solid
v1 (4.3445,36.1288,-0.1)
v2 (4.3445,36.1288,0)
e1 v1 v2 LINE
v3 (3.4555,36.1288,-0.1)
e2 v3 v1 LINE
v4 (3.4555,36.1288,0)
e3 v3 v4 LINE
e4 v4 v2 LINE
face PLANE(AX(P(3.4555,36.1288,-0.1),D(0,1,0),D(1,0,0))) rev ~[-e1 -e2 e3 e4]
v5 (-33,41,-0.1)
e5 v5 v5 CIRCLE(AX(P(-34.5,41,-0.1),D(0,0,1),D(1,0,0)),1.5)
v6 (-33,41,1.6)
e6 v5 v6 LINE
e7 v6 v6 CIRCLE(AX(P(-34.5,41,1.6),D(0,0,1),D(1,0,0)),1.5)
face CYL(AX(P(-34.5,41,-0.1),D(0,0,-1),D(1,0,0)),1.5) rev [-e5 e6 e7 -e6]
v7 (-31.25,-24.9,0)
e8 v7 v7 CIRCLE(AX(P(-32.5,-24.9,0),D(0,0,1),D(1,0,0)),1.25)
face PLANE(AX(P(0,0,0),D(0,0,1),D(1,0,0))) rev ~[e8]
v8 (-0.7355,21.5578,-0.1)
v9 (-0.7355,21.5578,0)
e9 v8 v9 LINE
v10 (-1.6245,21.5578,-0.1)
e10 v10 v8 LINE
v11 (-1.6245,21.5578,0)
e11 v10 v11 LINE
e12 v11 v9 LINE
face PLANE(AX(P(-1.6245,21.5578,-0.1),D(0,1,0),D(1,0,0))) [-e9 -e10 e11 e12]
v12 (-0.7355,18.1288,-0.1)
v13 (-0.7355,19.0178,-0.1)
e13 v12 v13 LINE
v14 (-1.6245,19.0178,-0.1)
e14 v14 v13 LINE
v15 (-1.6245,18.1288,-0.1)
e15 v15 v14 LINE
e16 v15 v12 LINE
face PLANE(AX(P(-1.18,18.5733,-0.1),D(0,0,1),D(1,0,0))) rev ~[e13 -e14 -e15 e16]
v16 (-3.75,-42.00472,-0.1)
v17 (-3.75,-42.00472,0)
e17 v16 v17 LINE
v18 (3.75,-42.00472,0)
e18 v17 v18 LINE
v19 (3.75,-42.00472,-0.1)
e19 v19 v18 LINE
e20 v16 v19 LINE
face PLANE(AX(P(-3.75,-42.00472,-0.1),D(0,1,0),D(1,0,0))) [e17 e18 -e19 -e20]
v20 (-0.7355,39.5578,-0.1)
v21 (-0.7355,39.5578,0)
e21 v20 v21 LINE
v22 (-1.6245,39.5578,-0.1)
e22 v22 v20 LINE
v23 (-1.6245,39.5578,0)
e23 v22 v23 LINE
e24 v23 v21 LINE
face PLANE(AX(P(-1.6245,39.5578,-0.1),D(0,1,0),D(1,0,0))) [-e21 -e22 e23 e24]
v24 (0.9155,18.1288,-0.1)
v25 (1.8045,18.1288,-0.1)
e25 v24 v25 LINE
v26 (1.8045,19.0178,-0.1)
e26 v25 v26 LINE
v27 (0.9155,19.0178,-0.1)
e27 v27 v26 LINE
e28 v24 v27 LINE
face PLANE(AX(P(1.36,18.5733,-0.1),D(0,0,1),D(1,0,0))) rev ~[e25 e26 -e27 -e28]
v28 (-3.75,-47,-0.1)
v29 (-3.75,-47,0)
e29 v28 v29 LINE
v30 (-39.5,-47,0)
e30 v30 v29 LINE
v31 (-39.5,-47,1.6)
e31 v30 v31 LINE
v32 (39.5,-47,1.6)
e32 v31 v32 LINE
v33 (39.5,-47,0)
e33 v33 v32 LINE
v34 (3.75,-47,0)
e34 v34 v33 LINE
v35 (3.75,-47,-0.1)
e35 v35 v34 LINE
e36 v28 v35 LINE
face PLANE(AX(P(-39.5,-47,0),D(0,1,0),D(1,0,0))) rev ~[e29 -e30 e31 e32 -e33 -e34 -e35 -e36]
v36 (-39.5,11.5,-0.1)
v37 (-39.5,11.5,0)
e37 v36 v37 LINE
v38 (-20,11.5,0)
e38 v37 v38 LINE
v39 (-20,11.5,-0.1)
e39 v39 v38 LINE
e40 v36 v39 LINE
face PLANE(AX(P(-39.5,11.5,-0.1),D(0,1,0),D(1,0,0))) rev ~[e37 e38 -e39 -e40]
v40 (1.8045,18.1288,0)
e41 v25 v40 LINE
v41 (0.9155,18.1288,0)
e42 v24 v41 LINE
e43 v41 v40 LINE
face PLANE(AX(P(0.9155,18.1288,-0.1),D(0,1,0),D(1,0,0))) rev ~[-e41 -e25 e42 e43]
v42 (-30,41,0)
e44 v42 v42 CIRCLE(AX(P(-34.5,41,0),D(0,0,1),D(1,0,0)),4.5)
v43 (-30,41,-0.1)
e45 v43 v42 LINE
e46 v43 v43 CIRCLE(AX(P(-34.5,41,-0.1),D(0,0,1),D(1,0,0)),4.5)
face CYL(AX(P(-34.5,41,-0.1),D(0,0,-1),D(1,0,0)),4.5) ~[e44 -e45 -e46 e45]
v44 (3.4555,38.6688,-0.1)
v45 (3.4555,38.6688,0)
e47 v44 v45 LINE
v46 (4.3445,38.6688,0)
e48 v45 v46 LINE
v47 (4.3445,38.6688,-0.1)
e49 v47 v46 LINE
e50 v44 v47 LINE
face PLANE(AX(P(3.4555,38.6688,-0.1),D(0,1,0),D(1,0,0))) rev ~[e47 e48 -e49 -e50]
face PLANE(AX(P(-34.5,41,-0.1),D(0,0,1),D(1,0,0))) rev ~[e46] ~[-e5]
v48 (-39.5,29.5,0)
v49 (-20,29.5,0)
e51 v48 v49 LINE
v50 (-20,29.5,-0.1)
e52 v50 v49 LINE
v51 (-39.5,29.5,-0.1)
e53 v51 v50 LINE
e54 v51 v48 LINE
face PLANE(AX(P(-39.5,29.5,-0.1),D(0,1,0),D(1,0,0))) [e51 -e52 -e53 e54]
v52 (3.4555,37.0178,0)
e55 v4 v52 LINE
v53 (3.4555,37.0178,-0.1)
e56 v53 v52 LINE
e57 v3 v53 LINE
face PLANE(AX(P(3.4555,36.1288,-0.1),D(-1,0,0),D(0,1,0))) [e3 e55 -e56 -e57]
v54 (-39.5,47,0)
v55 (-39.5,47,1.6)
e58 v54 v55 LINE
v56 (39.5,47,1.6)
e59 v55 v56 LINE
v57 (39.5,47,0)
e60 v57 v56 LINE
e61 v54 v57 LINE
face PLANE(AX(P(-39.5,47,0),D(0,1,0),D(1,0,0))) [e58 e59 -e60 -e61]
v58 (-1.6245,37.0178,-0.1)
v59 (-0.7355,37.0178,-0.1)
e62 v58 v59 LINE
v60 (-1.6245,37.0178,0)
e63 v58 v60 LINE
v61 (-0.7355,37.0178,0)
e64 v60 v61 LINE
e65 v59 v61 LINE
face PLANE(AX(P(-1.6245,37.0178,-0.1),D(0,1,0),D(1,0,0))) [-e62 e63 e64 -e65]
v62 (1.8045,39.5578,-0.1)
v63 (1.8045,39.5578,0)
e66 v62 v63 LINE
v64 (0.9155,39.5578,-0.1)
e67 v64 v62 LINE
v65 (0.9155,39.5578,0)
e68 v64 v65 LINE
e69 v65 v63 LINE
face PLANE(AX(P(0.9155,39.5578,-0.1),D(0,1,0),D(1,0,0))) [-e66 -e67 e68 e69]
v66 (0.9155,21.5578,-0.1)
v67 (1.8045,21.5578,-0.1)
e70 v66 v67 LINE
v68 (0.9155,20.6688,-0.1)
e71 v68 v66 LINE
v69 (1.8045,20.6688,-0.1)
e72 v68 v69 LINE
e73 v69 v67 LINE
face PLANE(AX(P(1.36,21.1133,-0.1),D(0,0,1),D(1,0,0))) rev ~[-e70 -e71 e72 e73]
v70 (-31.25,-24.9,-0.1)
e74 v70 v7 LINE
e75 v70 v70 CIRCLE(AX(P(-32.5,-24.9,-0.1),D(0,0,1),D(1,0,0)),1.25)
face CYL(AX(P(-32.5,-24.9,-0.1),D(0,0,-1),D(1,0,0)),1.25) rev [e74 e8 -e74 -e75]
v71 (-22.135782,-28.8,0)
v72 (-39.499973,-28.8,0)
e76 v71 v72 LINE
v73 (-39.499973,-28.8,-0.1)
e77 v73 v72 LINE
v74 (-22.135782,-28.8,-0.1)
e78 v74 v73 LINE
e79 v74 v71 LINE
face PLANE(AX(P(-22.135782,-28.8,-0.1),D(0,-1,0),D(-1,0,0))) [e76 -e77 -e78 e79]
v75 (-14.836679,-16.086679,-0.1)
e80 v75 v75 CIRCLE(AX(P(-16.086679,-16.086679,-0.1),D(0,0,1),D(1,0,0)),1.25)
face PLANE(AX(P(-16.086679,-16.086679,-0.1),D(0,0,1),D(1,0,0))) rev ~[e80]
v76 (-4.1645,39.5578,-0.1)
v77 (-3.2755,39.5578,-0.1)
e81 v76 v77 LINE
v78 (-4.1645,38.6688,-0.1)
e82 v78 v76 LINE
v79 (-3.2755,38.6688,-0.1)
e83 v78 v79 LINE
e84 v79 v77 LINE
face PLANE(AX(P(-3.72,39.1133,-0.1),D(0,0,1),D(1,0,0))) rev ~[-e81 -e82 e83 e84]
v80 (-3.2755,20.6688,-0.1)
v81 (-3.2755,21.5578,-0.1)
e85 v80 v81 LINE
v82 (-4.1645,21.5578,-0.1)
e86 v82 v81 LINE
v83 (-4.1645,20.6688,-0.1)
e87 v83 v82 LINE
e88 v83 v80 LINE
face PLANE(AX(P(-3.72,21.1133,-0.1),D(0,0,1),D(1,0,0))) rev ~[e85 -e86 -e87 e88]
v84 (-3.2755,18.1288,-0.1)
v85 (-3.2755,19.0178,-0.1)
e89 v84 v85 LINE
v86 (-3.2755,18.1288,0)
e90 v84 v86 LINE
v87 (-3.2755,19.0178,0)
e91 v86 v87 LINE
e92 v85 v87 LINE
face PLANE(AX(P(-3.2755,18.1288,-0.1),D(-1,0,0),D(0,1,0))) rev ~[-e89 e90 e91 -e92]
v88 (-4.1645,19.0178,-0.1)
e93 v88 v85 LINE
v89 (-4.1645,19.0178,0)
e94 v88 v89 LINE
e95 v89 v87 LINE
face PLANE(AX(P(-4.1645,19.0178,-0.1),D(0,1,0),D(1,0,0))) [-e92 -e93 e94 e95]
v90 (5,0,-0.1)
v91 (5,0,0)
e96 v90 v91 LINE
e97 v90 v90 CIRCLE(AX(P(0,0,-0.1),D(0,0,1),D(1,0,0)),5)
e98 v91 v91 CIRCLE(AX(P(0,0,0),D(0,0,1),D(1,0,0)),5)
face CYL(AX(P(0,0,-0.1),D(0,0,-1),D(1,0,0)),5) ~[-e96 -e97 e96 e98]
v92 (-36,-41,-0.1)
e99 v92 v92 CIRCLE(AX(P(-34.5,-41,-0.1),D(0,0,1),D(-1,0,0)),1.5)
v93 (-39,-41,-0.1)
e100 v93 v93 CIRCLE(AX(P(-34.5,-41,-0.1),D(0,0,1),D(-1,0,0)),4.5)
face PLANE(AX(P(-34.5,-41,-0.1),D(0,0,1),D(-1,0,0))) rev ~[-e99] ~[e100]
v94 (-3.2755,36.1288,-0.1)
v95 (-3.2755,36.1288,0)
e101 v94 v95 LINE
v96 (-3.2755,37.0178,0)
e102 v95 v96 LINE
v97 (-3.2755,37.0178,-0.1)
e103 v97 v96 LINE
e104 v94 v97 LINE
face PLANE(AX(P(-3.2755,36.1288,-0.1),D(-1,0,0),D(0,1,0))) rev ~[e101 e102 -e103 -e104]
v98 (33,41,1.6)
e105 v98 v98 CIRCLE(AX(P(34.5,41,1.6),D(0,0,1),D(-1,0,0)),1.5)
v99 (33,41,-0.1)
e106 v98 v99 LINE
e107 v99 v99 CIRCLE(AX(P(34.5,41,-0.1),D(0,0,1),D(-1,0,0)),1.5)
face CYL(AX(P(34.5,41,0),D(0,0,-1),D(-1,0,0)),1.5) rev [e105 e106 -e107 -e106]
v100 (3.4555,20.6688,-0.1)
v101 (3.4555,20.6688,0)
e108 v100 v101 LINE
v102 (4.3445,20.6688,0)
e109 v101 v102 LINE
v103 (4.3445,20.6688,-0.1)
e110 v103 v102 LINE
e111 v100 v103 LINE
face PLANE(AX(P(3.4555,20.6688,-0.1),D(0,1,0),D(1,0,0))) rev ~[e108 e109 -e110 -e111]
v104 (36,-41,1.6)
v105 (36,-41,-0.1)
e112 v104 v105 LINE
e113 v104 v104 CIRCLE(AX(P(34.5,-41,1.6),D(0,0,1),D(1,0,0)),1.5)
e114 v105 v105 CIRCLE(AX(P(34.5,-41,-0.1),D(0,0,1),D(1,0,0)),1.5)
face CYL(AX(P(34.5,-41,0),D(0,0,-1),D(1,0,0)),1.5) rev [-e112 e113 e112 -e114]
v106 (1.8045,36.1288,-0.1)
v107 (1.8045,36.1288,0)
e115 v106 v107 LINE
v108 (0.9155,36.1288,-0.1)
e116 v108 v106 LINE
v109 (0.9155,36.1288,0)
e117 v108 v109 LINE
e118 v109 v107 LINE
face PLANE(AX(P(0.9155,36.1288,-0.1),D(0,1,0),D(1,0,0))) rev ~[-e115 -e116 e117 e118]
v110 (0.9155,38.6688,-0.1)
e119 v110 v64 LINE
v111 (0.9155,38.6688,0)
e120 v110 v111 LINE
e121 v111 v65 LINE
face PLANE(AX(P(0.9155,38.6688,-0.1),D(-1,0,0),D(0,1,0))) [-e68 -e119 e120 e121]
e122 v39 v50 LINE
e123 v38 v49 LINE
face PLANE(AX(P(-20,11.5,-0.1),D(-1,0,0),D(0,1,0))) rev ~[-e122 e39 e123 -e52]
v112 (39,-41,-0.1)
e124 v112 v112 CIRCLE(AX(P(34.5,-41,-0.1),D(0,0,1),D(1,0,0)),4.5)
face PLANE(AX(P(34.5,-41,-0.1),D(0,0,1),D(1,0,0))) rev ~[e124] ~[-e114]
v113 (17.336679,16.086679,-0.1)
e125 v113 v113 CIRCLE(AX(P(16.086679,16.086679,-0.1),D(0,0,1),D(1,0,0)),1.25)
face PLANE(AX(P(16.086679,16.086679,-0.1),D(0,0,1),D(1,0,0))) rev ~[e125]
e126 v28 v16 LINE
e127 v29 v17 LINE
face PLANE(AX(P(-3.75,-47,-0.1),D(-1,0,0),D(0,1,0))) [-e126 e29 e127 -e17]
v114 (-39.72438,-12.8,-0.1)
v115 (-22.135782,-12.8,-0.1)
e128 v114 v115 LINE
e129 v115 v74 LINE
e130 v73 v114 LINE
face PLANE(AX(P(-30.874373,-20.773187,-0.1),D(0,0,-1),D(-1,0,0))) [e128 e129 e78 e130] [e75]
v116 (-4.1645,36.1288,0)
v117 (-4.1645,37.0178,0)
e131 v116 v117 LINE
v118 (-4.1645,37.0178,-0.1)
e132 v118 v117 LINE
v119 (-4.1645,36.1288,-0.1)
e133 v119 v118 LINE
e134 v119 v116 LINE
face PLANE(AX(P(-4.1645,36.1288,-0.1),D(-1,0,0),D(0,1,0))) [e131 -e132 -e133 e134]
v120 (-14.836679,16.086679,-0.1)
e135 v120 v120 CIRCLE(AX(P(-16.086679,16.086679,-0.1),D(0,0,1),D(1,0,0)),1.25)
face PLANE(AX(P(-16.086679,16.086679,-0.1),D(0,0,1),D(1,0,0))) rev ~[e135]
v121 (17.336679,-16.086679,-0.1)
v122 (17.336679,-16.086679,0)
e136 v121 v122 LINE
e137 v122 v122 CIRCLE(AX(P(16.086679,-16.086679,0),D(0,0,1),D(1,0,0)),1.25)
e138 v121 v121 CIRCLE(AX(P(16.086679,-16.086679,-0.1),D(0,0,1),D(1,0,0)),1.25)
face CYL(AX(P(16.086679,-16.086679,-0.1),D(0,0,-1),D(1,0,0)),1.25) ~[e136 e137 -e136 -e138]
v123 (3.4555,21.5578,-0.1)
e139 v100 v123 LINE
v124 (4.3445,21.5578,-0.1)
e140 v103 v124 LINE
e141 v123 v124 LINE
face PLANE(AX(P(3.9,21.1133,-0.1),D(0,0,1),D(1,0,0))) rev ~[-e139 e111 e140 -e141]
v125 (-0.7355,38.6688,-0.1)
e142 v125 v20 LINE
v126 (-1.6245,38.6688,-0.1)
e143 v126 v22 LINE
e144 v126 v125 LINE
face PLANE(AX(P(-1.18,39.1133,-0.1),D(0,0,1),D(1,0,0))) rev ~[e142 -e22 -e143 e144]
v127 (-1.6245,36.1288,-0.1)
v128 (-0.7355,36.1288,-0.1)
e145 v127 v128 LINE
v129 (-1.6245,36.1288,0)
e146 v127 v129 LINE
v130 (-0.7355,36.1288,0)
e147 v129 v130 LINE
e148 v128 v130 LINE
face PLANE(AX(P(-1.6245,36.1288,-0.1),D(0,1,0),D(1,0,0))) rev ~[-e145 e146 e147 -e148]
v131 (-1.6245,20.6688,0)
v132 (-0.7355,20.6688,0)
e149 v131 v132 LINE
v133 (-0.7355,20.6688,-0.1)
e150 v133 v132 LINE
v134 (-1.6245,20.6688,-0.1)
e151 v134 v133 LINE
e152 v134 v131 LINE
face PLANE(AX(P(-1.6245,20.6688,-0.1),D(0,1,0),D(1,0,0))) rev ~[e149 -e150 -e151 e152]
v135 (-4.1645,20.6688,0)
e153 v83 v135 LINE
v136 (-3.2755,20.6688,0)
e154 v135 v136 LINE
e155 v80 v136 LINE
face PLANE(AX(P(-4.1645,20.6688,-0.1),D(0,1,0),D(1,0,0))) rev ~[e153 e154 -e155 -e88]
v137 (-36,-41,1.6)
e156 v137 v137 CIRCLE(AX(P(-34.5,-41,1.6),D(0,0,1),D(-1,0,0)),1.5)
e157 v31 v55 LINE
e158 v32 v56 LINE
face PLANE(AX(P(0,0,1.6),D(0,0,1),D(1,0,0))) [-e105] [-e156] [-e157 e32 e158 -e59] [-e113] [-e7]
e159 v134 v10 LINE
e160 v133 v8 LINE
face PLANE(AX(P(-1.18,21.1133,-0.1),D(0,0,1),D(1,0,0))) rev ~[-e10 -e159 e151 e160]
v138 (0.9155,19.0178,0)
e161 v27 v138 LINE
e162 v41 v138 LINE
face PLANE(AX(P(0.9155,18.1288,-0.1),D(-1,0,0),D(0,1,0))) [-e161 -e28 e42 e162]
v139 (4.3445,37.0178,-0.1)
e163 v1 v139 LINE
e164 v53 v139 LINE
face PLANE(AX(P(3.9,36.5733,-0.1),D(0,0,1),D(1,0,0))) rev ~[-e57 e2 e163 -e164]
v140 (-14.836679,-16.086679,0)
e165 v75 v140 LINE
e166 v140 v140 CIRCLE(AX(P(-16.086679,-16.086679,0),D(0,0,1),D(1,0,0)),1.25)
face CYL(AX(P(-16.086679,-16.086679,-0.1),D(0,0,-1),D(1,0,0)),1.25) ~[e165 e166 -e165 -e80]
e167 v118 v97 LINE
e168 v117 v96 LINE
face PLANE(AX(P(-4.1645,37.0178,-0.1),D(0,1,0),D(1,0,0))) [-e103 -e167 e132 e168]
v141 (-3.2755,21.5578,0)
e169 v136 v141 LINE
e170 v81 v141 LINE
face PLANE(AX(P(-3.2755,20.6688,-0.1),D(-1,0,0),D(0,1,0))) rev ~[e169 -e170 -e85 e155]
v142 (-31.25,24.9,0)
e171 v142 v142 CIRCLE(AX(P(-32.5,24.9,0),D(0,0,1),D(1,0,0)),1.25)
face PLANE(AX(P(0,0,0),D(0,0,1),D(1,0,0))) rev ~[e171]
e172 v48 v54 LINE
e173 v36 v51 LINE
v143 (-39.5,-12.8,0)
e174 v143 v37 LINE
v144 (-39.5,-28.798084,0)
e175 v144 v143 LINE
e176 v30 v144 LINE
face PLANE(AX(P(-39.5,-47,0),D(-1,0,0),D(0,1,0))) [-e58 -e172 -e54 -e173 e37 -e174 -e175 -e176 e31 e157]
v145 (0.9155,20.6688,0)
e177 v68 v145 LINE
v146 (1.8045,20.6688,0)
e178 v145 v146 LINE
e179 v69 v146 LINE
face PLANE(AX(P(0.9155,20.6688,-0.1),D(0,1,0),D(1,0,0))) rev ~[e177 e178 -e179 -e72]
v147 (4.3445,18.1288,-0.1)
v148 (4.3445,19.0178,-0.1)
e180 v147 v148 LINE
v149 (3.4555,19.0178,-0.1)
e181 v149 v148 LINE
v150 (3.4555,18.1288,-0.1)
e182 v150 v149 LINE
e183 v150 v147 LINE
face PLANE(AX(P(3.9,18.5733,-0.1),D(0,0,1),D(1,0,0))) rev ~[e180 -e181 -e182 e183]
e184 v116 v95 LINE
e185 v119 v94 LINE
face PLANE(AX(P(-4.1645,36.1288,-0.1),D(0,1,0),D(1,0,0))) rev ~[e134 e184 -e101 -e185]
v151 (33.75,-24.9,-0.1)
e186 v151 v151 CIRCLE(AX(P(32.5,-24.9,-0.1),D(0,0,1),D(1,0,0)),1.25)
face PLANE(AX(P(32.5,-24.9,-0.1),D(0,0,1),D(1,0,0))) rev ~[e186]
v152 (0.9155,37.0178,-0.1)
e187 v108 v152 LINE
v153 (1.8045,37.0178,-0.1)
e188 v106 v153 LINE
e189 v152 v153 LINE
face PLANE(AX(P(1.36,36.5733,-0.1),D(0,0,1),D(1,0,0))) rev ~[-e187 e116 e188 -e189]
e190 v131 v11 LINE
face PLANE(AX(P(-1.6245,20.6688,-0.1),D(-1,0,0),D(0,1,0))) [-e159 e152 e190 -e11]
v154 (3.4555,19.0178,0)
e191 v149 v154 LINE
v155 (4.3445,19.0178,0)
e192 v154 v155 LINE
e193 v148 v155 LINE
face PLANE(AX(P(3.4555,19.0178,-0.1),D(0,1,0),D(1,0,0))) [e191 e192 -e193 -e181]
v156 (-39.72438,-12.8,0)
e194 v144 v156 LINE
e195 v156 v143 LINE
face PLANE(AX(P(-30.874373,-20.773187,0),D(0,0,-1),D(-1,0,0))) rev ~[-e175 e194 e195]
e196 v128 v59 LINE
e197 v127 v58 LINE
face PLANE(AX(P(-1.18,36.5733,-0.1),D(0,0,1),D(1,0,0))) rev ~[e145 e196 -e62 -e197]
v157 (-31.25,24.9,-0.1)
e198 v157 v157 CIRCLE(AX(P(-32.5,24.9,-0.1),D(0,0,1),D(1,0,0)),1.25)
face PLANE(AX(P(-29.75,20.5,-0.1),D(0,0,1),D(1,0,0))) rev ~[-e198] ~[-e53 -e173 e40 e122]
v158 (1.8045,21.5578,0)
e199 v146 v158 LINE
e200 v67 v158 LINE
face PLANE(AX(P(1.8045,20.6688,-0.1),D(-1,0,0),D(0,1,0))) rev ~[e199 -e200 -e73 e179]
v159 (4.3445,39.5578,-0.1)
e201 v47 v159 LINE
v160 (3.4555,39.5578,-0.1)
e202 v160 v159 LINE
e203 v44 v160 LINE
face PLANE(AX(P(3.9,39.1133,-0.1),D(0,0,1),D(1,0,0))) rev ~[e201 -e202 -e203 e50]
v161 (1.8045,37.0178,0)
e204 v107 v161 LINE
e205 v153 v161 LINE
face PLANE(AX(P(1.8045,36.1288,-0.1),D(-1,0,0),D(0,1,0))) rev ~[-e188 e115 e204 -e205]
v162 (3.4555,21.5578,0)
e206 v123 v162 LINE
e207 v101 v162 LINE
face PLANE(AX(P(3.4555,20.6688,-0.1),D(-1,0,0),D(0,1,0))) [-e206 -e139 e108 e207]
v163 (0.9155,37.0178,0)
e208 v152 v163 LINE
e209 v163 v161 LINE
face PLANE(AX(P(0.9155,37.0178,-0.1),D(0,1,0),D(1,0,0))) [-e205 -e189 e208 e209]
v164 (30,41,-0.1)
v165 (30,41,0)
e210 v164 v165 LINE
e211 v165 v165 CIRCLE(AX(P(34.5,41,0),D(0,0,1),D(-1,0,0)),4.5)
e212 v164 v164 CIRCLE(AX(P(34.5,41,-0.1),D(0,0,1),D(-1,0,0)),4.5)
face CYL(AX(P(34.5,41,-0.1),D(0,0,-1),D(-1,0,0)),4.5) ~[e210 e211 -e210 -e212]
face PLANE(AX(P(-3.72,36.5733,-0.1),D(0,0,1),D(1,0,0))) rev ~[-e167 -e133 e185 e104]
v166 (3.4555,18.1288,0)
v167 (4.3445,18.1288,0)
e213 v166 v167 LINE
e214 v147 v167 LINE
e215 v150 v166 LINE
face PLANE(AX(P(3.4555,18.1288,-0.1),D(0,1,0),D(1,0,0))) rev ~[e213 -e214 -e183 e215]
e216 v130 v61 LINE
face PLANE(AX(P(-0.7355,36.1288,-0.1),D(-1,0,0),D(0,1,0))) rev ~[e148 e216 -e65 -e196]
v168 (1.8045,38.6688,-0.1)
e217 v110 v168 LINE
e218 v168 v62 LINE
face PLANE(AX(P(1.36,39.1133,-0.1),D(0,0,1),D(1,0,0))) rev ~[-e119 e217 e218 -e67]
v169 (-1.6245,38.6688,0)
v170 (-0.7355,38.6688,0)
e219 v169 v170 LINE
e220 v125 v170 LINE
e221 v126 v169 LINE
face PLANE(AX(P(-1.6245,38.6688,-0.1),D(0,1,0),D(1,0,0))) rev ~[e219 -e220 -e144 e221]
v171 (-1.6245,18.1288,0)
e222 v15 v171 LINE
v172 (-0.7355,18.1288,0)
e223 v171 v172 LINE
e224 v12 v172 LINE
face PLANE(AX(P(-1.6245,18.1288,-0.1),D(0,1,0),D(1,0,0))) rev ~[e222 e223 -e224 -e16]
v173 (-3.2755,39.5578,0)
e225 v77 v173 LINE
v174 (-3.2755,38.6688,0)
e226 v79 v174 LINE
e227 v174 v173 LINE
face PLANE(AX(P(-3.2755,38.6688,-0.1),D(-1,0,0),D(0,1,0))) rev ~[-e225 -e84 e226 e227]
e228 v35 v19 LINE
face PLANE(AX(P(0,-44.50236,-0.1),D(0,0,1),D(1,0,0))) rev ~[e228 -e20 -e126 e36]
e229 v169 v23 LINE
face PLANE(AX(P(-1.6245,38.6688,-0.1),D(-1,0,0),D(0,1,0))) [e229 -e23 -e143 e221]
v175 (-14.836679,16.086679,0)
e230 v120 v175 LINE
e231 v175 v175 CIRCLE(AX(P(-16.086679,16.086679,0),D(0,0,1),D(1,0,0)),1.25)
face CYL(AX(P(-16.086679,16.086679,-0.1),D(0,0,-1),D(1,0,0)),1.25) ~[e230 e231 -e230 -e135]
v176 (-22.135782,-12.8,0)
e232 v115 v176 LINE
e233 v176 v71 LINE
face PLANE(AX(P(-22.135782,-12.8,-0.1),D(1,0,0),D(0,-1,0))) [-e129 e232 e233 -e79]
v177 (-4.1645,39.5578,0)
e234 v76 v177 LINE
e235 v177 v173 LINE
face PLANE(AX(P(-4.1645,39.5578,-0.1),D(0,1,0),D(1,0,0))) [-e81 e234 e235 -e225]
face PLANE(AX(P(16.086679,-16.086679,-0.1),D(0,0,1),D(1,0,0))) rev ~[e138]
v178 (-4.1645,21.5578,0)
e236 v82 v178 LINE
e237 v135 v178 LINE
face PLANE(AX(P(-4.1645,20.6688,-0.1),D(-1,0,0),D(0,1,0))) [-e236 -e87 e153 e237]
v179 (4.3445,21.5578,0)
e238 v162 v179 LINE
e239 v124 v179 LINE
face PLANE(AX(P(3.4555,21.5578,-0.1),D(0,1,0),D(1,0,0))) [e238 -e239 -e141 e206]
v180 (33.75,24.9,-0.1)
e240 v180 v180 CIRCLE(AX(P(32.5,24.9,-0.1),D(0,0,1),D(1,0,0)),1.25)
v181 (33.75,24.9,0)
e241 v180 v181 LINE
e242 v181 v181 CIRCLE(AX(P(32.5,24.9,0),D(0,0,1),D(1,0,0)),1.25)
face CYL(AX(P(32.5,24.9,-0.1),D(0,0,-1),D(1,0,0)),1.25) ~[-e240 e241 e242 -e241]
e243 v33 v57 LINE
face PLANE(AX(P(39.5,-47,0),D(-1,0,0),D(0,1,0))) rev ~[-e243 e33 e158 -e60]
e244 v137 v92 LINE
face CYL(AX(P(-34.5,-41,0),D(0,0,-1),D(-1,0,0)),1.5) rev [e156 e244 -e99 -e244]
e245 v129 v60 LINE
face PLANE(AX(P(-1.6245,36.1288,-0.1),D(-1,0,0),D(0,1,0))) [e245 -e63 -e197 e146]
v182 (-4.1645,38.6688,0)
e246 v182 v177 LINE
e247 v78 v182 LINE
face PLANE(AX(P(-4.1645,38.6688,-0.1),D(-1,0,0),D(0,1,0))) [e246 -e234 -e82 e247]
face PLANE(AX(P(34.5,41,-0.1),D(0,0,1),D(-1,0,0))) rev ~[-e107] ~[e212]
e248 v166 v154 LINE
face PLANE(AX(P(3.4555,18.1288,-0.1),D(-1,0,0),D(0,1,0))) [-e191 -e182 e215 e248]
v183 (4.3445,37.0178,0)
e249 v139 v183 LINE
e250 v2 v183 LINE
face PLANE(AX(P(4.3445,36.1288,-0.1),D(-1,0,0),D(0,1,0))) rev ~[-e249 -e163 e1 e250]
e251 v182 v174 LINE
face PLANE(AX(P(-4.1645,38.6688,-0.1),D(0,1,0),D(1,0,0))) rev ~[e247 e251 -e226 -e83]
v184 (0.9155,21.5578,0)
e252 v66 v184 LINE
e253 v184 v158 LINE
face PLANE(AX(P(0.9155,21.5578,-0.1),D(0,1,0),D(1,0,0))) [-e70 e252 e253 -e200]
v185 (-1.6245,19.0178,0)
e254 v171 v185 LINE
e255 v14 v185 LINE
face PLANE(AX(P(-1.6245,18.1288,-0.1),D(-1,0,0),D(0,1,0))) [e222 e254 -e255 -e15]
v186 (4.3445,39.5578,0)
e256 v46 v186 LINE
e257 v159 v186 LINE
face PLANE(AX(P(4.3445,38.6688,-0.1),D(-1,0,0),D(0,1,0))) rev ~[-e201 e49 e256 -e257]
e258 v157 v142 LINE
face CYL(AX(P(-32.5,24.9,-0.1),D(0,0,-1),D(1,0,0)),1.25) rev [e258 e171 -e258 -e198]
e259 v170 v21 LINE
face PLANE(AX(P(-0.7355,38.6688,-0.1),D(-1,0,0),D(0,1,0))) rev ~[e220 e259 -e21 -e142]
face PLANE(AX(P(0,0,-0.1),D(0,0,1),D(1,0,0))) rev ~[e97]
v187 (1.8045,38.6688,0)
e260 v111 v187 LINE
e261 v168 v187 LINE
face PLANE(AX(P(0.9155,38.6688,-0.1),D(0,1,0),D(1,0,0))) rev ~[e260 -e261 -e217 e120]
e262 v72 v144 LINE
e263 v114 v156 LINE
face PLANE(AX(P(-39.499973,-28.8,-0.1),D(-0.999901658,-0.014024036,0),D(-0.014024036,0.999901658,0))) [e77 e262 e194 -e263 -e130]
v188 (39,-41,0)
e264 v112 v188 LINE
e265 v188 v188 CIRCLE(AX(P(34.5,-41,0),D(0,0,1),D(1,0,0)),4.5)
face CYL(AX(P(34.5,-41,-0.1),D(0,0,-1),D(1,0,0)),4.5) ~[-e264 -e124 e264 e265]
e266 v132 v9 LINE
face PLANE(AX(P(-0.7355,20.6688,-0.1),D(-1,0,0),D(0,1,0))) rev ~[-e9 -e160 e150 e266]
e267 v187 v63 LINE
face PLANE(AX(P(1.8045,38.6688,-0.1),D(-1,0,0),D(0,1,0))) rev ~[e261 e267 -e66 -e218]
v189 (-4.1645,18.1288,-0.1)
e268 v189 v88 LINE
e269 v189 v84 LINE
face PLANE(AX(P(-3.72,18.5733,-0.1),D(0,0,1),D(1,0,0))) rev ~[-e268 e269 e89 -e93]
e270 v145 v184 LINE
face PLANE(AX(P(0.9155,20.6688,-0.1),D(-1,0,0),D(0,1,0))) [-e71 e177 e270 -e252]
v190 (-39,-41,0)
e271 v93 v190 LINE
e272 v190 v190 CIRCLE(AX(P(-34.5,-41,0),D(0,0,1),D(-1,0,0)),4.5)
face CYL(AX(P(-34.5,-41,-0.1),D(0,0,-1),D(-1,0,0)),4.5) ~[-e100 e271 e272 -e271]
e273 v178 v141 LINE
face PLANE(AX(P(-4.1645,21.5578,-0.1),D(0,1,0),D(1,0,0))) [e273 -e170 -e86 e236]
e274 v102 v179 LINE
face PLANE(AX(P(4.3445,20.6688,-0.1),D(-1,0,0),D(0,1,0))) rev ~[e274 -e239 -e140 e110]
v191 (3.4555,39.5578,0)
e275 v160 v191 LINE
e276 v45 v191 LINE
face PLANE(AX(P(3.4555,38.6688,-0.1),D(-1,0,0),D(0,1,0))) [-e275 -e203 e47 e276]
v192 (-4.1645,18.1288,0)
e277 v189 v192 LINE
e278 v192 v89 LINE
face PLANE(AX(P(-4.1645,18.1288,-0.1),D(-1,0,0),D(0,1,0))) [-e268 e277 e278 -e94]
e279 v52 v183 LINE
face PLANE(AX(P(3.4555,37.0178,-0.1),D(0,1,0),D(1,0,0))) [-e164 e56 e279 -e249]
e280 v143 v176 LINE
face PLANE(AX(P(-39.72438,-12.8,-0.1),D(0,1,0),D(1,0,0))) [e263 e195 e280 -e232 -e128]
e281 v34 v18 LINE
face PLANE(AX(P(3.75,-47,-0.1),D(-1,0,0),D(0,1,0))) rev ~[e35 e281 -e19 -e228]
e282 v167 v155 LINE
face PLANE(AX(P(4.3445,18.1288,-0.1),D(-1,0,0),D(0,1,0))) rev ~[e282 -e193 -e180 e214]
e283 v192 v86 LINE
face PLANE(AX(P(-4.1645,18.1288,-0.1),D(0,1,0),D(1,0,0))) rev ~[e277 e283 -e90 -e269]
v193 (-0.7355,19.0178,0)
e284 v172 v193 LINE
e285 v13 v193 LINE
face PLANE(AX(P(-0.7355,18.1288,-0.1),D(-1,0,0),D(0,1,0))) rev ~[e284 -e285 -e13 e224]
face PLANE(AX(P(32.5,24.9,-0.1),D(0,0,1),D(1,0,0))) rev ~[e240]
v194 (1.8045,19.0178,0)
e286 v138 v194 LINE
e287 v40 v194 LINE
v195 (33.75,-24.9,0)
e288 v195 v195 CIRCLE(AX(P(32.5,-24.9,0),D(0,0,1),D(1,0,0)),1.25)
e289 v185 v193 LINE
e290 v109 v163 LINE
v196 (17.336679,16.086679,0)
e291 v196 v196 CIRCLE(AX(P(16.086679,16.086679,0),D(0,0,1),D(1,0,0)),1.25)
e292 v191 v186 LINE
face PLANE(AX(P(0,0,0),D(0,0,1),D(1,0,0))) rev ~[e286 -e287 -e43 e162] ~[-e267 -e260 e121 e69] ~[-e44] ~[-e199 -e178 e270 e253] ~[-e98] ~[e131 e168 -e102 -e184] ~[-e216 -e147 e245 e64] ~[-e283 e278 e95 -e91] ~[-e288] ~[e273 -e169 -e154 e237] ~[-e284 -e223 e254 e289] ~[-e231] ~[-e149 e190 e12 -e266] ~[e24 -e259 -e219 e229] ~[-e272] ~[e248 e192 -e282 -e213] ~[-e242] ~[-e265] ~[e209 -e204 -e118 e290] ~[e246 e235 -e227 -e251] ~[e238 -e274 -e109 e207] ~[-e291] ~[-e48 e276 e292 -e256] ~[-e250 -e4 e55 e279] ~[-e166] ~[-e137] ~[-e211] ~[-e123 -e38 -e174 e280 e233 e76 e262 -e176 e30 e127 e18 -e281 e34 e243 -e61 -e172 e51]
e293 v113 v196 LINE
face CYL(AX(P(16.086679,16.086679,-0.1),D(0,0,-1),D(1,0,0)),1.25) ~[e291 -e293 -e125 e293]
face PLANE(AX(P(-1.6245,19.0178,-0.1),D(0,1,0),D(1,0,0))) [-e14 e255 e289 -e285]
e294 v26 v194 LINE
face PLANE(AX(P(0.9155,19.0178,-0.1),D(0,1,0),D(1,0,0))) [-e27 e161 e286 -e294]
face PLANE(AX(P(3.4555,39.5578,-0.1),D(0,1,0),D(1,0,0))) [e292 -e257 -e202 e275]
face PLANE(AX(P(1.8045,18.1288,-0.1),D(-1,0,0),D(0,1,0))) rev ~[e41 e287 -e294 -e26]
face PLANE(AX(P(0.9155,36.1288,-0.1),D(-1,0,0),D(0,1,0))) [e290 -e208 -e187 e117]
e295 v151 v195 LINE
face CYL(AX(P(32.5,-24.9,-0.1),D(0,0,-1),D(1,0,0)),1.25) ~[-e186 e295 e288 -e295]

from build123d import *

# Parameters (mm, degrees)
SKETCH1_W           = 79
SKETCH1_H           = 94
SKETCH1_R           = 1.5
BOSS_EXTRUDE1_DEPTH = 1.6
BOSS_EXTRUDE2_START = -0.1
SKETCH2_R           = 5
SKETCH2_R_2         = 1.25
SKETCH2_R_3         = 4.5
SKETCH2_R_4         = 1.5
SKETCH2_W           = 0.889
SKETCH2_H           = 0.889
SKETCH2_W_2         = 19.5
SKETCH2_H_2         = 18
SKETCH2_W_3         = 7.5
SKETCH2_H_3         = 4.995279521
BOSS_EXTRUDE2_DEPTH = 0.1


with BuildPart() as part:
    # Sketch1 → Boss-Extrude1 (new body)
    with BuildSketch(Plane.XY):
        Rectangle(SKETCH1_W, SKETCH1_H)
        with Locations((-34.5, 41)):
            Circle(SKETCH1_R, mode=Mode.SUBTRACT)
        with Locations(Location((34.5, 41, 0), (0, 0, 180))):
            Circle(SKETCH1_R, mode=Mode.SUBTRACT)
        with Locations((34.5, -41)):
            Circle(SKETCH1_R, mode=Mode.SUBTRACT)
        with Locations(Location((-34.5, -41, 0), (0, 0, 180))):
            Circle(SKETCH1_R, mode=Mode.SUBTRACT)
    extrude(amount=BOSS_EXTRUDE1_DEPTH)

    # Sketch2 → Boss-Extrude2 (add)
    # profile 1 of 30: a face of its own
    with BuildSketch(Plane.XY.offset(BOSS_EXTRUDE2_START)):
        Circle(SKETCH2_R)
    # profile 2 of 30: a face of its own
    with BuildSketch(Plane.XY.offset(BOSS_EXTRUDE2_START)):
        with Locations((-16.086679272, 16.086679272)):
            Circle(SKETCH2_R_2)
    # profile 3 of 30: a face of its own
    with BuildSketch(Plane.XY.offset(BOSS_EXTRUDE2_START)):
        with Locations((16.086679272, 16.086679272)):
            Circle(SKETCH2_R_2)
    # profile 4 of 30: a face of its own
    with BuildSketch(Plane.XY.offset(BOSS_EXTRUDE2_START)):
        with Locations((32.5, 24.9)):
            Circle(SKETCH2_R_2)
    # profile 5 of 30: a face of its own
    with BuildSketch(Plane.XY.offset(BOSS_EXTRUDE2_START)):
        with Locations((16.086679272, -16.086679272)):
            Circle(SKETCH2_R_2)
    # profile 6 of 30: a face of its own
    with BuildSketch(Plane.XY.offset(BOSS_EXTRUDE2_START)):
        with Locations((32.5, -24.9)):
            Circle(SKETCH2_R_2)
    # profile 7 of 30: a face of its own
    with BuildSketch(Plane.XY.offset(BOSS_EXTRUDE2_START)):
        with Locations((-16.086679272, -16.086679272)):
            Circle(SKETCH2_R_2)
    # profile 8 of 30: a face of its own
    with BuildSketch(Plane.XY.offset(BOSS_EXTRUDE2_START)):
        with Locations((-34.5, 41)):
            Circle(SKETCH2_R_3)
        with Locations((-34.5, 41)):
            Circle(SKETCH2_R_4, mode=Mode.SUBTRACT)
    # profile 9 of 30: a face of its own
    with BuildSketch(Plane.XY.offset(BOSS_EXTRUDE2_START)):
        with Locations(Location((34.5, 41, 0), (0, 0, 180))):
            Circle(SKETCH2_R_3)
        with Locations(Location((34.5, 41, 0), (0, 0, 180))):
            Circle(SKETCH2_R_4, mode=Mode.SUBTRACT)
    # profile 10 of 30: a face of its own
    with BuildSketch(Plane.XY.offset(BOSS_EXTRUDE2_START)):
        with Locations(Location((-34.5, -41, 0), (0, 0, 180))):
            Circle(SKETCH2_R_3)
        with Locations(Location((-34.5, -41, 0), (0, 0, 180))):
            Circle(SKETCH2_R_4, mode=Mode.SUBTRACT)
    # profile 11 of 30: a face of its own
    with BuildSketch(Plane.XY.offset(BOSS_EXTRUDE2_START)):
        with Locations((34.5, -41)):
            Circle(SKETCH2_R_3)
        with Locations((34.5, -41)):
            Circle(SKETCH2_R_4, mode=Mode.SUBTRACT)
    # profile 12 of 30: a face of its own
    with BuildSketch(Plane.XY.offset(BOSS_EXTRUDE2_START)):
        with Locations((-3.72, 39.1133)):
            Rectangle(SKETCH2_W, SKETCH2_H)
    # profile 13 of 30: a face of its own
    with BuildSketch(Plane.XY.offset(BOSS_EXTRUDE2_START)):
        with Locations((-1.18, 39.1133)):
            Rectangle(SKETCH2_W, SKETCH2_H)
    # profile 14 of 30: a face of its own
    with BuildSketch(Plane.XY.offset(BOSS_EXTRUDE2_START)):
        with Locations((1.36, 39.1133)):
            Rectangle(SKETCH2_W, SKETCH2_H)
    # profile 15 of 30: a face of its own
    with BuildSketch(Plane.XY.offset(BOSS_EXTRUDE2_START)):
        with Locations((3.9, 39.1133)):
            Rectangle(SKETCH2_W, SKETCH2_H)
    # profile 16 of 30: a face of its own
    with BuildSketch(Plane.XY.offset(BOSS_EXTRUDE2_START)):
        with Locations((-3.72, 36.5733)):
            Rectangle(SKETCH2_W, SKETCH2_H)
    # profile 17 of 30: a face of its own
    with BuildSketch(Plane.XY.offset(BOSS_EXTRUDE2_START)):
        with Locations((-1.18, 36.5733)):
            Rectangle(SKETCH2_W, SKETCH2_H)
    # profile 18 of 30: a face of its own
    with BuildSketch(Plane.XY.offset(BOSS_EXTRUDE2_START)):
        with Locations((1.36, 36.5733)):
            Rectangle(SKETCH2_W, SKETCH2_H)
    # profile 19 of 30: a face of its own
    with BuildSketch(Plane.XY.offset(BOSS_EXTRUDE2_START)):
        with Locations((3.9, 36.5733)):
            Rectangle(SKETCH2_W, SKETCH2_H)
    # profile 20 of 30: a face of its own
    with BuildSketch(Plane.XY.offset(BOSS_EXTRUDE2_START)):
        with Locations((-3.72, 21.1133)):
            Rectangle(SKETCH2_W, SKETCH2_H)
    # profile 21 of 30: a face of its own
    with BuildSketch(Plane.XY.offset(BOSS_EXTRUDE2_START)):
        with Locations((-1.18, 21.1133)):
            Rectangle(SKETCH2_W, SKETCH2_H)
    # profile 22 of 30: a face of its own
    with BuildSketch(Plane.XY.offset(BOSS_EXTRUDE2_START)):
        with Locations((1.36, 21.1133)):
            Rectangle(SKETCH2_W, SKETCH2_H)
    # profile 23 of 30: a face of its own
    with BuildSketch(Plane.XY.offset(BOSS_EXTRUDE2_START)):
        with Locations((3.9, 21.1133)):
            Rectangle(SKETCH2_W, SKETCH2_H)
    # profile 24 of 30: a face of its own
    with BuildSketch(Plane.XY.offset(BOSS_EXTRUDE2_START)):
        with Locations((-3.72, 18.5733)):
            Rectangle(SKETCH2_W, SKETCH2_H)
    # profile 25 of 30: a face of its own
    with BuildSketch(Plane.XY.offset(BOSS_EXTRUDE2_START)):
        with Locations((-1.18, 18.5733)):
            Rectangle(SKETCH2_W, SKETCH2_H)
    # profile 26 of 30: a face of its own
    with BuildSketch(Plane.XY.offset(BOSS_EXTRUDE2_START)):
        with Locations((1.36, 18.5733)):
            Rectangle(SKETCH2_W, SKETCH2_H)
    # profile 27 of 30: a face of its own
    with BuildSketch(Plane.XY.offset(BOSS_EXTRUDE2_START)):
        with Locations((3.9, 18.5733)):
            Rectangle(SKETCH2_W, SKETCH2_H)
    # profile 28 of 30: a face of its own
    with BuildSketch(Plane.XY.offset(BOSS_EXTRUDE2_START)):
        with Locations((-29.75, 20.5)):
            Rectangle(SKETCH2_W_2, SKETCH2_H_2)
        with Locations((-32.5, 24.9)):
            Circle(SKETCH2_R_2, mode=Mode.SUBTRACT)
    # profile 29 of 30: a face of its own
    with BuildSketch(Plane.XY.offset(BOSS_EXTRUDE2_START)):
        with Locations((0, -44.502360239)):
            Rectangle(SKETCH2_W_3, SKETCH2_H_3)
    # profile 30 of 30: a face of its own
    with BuildSketch(Plane.XY.offset(BOSS_EXTRUDE2_START)):
        Polygon((-39.724379768, -12.8), (-22.135781761, -12.8), (-22.135781761, -28.8), (-39.499973122, -28.8), align=None)
        with Locations((-32.5, -24.9)):
            Circle(SKETCH2_R_2, mode=Mode.SUBTRACT)
    extrude(amount=BOSS_EXTRUDE2_DEPTH)


solid = part.part
